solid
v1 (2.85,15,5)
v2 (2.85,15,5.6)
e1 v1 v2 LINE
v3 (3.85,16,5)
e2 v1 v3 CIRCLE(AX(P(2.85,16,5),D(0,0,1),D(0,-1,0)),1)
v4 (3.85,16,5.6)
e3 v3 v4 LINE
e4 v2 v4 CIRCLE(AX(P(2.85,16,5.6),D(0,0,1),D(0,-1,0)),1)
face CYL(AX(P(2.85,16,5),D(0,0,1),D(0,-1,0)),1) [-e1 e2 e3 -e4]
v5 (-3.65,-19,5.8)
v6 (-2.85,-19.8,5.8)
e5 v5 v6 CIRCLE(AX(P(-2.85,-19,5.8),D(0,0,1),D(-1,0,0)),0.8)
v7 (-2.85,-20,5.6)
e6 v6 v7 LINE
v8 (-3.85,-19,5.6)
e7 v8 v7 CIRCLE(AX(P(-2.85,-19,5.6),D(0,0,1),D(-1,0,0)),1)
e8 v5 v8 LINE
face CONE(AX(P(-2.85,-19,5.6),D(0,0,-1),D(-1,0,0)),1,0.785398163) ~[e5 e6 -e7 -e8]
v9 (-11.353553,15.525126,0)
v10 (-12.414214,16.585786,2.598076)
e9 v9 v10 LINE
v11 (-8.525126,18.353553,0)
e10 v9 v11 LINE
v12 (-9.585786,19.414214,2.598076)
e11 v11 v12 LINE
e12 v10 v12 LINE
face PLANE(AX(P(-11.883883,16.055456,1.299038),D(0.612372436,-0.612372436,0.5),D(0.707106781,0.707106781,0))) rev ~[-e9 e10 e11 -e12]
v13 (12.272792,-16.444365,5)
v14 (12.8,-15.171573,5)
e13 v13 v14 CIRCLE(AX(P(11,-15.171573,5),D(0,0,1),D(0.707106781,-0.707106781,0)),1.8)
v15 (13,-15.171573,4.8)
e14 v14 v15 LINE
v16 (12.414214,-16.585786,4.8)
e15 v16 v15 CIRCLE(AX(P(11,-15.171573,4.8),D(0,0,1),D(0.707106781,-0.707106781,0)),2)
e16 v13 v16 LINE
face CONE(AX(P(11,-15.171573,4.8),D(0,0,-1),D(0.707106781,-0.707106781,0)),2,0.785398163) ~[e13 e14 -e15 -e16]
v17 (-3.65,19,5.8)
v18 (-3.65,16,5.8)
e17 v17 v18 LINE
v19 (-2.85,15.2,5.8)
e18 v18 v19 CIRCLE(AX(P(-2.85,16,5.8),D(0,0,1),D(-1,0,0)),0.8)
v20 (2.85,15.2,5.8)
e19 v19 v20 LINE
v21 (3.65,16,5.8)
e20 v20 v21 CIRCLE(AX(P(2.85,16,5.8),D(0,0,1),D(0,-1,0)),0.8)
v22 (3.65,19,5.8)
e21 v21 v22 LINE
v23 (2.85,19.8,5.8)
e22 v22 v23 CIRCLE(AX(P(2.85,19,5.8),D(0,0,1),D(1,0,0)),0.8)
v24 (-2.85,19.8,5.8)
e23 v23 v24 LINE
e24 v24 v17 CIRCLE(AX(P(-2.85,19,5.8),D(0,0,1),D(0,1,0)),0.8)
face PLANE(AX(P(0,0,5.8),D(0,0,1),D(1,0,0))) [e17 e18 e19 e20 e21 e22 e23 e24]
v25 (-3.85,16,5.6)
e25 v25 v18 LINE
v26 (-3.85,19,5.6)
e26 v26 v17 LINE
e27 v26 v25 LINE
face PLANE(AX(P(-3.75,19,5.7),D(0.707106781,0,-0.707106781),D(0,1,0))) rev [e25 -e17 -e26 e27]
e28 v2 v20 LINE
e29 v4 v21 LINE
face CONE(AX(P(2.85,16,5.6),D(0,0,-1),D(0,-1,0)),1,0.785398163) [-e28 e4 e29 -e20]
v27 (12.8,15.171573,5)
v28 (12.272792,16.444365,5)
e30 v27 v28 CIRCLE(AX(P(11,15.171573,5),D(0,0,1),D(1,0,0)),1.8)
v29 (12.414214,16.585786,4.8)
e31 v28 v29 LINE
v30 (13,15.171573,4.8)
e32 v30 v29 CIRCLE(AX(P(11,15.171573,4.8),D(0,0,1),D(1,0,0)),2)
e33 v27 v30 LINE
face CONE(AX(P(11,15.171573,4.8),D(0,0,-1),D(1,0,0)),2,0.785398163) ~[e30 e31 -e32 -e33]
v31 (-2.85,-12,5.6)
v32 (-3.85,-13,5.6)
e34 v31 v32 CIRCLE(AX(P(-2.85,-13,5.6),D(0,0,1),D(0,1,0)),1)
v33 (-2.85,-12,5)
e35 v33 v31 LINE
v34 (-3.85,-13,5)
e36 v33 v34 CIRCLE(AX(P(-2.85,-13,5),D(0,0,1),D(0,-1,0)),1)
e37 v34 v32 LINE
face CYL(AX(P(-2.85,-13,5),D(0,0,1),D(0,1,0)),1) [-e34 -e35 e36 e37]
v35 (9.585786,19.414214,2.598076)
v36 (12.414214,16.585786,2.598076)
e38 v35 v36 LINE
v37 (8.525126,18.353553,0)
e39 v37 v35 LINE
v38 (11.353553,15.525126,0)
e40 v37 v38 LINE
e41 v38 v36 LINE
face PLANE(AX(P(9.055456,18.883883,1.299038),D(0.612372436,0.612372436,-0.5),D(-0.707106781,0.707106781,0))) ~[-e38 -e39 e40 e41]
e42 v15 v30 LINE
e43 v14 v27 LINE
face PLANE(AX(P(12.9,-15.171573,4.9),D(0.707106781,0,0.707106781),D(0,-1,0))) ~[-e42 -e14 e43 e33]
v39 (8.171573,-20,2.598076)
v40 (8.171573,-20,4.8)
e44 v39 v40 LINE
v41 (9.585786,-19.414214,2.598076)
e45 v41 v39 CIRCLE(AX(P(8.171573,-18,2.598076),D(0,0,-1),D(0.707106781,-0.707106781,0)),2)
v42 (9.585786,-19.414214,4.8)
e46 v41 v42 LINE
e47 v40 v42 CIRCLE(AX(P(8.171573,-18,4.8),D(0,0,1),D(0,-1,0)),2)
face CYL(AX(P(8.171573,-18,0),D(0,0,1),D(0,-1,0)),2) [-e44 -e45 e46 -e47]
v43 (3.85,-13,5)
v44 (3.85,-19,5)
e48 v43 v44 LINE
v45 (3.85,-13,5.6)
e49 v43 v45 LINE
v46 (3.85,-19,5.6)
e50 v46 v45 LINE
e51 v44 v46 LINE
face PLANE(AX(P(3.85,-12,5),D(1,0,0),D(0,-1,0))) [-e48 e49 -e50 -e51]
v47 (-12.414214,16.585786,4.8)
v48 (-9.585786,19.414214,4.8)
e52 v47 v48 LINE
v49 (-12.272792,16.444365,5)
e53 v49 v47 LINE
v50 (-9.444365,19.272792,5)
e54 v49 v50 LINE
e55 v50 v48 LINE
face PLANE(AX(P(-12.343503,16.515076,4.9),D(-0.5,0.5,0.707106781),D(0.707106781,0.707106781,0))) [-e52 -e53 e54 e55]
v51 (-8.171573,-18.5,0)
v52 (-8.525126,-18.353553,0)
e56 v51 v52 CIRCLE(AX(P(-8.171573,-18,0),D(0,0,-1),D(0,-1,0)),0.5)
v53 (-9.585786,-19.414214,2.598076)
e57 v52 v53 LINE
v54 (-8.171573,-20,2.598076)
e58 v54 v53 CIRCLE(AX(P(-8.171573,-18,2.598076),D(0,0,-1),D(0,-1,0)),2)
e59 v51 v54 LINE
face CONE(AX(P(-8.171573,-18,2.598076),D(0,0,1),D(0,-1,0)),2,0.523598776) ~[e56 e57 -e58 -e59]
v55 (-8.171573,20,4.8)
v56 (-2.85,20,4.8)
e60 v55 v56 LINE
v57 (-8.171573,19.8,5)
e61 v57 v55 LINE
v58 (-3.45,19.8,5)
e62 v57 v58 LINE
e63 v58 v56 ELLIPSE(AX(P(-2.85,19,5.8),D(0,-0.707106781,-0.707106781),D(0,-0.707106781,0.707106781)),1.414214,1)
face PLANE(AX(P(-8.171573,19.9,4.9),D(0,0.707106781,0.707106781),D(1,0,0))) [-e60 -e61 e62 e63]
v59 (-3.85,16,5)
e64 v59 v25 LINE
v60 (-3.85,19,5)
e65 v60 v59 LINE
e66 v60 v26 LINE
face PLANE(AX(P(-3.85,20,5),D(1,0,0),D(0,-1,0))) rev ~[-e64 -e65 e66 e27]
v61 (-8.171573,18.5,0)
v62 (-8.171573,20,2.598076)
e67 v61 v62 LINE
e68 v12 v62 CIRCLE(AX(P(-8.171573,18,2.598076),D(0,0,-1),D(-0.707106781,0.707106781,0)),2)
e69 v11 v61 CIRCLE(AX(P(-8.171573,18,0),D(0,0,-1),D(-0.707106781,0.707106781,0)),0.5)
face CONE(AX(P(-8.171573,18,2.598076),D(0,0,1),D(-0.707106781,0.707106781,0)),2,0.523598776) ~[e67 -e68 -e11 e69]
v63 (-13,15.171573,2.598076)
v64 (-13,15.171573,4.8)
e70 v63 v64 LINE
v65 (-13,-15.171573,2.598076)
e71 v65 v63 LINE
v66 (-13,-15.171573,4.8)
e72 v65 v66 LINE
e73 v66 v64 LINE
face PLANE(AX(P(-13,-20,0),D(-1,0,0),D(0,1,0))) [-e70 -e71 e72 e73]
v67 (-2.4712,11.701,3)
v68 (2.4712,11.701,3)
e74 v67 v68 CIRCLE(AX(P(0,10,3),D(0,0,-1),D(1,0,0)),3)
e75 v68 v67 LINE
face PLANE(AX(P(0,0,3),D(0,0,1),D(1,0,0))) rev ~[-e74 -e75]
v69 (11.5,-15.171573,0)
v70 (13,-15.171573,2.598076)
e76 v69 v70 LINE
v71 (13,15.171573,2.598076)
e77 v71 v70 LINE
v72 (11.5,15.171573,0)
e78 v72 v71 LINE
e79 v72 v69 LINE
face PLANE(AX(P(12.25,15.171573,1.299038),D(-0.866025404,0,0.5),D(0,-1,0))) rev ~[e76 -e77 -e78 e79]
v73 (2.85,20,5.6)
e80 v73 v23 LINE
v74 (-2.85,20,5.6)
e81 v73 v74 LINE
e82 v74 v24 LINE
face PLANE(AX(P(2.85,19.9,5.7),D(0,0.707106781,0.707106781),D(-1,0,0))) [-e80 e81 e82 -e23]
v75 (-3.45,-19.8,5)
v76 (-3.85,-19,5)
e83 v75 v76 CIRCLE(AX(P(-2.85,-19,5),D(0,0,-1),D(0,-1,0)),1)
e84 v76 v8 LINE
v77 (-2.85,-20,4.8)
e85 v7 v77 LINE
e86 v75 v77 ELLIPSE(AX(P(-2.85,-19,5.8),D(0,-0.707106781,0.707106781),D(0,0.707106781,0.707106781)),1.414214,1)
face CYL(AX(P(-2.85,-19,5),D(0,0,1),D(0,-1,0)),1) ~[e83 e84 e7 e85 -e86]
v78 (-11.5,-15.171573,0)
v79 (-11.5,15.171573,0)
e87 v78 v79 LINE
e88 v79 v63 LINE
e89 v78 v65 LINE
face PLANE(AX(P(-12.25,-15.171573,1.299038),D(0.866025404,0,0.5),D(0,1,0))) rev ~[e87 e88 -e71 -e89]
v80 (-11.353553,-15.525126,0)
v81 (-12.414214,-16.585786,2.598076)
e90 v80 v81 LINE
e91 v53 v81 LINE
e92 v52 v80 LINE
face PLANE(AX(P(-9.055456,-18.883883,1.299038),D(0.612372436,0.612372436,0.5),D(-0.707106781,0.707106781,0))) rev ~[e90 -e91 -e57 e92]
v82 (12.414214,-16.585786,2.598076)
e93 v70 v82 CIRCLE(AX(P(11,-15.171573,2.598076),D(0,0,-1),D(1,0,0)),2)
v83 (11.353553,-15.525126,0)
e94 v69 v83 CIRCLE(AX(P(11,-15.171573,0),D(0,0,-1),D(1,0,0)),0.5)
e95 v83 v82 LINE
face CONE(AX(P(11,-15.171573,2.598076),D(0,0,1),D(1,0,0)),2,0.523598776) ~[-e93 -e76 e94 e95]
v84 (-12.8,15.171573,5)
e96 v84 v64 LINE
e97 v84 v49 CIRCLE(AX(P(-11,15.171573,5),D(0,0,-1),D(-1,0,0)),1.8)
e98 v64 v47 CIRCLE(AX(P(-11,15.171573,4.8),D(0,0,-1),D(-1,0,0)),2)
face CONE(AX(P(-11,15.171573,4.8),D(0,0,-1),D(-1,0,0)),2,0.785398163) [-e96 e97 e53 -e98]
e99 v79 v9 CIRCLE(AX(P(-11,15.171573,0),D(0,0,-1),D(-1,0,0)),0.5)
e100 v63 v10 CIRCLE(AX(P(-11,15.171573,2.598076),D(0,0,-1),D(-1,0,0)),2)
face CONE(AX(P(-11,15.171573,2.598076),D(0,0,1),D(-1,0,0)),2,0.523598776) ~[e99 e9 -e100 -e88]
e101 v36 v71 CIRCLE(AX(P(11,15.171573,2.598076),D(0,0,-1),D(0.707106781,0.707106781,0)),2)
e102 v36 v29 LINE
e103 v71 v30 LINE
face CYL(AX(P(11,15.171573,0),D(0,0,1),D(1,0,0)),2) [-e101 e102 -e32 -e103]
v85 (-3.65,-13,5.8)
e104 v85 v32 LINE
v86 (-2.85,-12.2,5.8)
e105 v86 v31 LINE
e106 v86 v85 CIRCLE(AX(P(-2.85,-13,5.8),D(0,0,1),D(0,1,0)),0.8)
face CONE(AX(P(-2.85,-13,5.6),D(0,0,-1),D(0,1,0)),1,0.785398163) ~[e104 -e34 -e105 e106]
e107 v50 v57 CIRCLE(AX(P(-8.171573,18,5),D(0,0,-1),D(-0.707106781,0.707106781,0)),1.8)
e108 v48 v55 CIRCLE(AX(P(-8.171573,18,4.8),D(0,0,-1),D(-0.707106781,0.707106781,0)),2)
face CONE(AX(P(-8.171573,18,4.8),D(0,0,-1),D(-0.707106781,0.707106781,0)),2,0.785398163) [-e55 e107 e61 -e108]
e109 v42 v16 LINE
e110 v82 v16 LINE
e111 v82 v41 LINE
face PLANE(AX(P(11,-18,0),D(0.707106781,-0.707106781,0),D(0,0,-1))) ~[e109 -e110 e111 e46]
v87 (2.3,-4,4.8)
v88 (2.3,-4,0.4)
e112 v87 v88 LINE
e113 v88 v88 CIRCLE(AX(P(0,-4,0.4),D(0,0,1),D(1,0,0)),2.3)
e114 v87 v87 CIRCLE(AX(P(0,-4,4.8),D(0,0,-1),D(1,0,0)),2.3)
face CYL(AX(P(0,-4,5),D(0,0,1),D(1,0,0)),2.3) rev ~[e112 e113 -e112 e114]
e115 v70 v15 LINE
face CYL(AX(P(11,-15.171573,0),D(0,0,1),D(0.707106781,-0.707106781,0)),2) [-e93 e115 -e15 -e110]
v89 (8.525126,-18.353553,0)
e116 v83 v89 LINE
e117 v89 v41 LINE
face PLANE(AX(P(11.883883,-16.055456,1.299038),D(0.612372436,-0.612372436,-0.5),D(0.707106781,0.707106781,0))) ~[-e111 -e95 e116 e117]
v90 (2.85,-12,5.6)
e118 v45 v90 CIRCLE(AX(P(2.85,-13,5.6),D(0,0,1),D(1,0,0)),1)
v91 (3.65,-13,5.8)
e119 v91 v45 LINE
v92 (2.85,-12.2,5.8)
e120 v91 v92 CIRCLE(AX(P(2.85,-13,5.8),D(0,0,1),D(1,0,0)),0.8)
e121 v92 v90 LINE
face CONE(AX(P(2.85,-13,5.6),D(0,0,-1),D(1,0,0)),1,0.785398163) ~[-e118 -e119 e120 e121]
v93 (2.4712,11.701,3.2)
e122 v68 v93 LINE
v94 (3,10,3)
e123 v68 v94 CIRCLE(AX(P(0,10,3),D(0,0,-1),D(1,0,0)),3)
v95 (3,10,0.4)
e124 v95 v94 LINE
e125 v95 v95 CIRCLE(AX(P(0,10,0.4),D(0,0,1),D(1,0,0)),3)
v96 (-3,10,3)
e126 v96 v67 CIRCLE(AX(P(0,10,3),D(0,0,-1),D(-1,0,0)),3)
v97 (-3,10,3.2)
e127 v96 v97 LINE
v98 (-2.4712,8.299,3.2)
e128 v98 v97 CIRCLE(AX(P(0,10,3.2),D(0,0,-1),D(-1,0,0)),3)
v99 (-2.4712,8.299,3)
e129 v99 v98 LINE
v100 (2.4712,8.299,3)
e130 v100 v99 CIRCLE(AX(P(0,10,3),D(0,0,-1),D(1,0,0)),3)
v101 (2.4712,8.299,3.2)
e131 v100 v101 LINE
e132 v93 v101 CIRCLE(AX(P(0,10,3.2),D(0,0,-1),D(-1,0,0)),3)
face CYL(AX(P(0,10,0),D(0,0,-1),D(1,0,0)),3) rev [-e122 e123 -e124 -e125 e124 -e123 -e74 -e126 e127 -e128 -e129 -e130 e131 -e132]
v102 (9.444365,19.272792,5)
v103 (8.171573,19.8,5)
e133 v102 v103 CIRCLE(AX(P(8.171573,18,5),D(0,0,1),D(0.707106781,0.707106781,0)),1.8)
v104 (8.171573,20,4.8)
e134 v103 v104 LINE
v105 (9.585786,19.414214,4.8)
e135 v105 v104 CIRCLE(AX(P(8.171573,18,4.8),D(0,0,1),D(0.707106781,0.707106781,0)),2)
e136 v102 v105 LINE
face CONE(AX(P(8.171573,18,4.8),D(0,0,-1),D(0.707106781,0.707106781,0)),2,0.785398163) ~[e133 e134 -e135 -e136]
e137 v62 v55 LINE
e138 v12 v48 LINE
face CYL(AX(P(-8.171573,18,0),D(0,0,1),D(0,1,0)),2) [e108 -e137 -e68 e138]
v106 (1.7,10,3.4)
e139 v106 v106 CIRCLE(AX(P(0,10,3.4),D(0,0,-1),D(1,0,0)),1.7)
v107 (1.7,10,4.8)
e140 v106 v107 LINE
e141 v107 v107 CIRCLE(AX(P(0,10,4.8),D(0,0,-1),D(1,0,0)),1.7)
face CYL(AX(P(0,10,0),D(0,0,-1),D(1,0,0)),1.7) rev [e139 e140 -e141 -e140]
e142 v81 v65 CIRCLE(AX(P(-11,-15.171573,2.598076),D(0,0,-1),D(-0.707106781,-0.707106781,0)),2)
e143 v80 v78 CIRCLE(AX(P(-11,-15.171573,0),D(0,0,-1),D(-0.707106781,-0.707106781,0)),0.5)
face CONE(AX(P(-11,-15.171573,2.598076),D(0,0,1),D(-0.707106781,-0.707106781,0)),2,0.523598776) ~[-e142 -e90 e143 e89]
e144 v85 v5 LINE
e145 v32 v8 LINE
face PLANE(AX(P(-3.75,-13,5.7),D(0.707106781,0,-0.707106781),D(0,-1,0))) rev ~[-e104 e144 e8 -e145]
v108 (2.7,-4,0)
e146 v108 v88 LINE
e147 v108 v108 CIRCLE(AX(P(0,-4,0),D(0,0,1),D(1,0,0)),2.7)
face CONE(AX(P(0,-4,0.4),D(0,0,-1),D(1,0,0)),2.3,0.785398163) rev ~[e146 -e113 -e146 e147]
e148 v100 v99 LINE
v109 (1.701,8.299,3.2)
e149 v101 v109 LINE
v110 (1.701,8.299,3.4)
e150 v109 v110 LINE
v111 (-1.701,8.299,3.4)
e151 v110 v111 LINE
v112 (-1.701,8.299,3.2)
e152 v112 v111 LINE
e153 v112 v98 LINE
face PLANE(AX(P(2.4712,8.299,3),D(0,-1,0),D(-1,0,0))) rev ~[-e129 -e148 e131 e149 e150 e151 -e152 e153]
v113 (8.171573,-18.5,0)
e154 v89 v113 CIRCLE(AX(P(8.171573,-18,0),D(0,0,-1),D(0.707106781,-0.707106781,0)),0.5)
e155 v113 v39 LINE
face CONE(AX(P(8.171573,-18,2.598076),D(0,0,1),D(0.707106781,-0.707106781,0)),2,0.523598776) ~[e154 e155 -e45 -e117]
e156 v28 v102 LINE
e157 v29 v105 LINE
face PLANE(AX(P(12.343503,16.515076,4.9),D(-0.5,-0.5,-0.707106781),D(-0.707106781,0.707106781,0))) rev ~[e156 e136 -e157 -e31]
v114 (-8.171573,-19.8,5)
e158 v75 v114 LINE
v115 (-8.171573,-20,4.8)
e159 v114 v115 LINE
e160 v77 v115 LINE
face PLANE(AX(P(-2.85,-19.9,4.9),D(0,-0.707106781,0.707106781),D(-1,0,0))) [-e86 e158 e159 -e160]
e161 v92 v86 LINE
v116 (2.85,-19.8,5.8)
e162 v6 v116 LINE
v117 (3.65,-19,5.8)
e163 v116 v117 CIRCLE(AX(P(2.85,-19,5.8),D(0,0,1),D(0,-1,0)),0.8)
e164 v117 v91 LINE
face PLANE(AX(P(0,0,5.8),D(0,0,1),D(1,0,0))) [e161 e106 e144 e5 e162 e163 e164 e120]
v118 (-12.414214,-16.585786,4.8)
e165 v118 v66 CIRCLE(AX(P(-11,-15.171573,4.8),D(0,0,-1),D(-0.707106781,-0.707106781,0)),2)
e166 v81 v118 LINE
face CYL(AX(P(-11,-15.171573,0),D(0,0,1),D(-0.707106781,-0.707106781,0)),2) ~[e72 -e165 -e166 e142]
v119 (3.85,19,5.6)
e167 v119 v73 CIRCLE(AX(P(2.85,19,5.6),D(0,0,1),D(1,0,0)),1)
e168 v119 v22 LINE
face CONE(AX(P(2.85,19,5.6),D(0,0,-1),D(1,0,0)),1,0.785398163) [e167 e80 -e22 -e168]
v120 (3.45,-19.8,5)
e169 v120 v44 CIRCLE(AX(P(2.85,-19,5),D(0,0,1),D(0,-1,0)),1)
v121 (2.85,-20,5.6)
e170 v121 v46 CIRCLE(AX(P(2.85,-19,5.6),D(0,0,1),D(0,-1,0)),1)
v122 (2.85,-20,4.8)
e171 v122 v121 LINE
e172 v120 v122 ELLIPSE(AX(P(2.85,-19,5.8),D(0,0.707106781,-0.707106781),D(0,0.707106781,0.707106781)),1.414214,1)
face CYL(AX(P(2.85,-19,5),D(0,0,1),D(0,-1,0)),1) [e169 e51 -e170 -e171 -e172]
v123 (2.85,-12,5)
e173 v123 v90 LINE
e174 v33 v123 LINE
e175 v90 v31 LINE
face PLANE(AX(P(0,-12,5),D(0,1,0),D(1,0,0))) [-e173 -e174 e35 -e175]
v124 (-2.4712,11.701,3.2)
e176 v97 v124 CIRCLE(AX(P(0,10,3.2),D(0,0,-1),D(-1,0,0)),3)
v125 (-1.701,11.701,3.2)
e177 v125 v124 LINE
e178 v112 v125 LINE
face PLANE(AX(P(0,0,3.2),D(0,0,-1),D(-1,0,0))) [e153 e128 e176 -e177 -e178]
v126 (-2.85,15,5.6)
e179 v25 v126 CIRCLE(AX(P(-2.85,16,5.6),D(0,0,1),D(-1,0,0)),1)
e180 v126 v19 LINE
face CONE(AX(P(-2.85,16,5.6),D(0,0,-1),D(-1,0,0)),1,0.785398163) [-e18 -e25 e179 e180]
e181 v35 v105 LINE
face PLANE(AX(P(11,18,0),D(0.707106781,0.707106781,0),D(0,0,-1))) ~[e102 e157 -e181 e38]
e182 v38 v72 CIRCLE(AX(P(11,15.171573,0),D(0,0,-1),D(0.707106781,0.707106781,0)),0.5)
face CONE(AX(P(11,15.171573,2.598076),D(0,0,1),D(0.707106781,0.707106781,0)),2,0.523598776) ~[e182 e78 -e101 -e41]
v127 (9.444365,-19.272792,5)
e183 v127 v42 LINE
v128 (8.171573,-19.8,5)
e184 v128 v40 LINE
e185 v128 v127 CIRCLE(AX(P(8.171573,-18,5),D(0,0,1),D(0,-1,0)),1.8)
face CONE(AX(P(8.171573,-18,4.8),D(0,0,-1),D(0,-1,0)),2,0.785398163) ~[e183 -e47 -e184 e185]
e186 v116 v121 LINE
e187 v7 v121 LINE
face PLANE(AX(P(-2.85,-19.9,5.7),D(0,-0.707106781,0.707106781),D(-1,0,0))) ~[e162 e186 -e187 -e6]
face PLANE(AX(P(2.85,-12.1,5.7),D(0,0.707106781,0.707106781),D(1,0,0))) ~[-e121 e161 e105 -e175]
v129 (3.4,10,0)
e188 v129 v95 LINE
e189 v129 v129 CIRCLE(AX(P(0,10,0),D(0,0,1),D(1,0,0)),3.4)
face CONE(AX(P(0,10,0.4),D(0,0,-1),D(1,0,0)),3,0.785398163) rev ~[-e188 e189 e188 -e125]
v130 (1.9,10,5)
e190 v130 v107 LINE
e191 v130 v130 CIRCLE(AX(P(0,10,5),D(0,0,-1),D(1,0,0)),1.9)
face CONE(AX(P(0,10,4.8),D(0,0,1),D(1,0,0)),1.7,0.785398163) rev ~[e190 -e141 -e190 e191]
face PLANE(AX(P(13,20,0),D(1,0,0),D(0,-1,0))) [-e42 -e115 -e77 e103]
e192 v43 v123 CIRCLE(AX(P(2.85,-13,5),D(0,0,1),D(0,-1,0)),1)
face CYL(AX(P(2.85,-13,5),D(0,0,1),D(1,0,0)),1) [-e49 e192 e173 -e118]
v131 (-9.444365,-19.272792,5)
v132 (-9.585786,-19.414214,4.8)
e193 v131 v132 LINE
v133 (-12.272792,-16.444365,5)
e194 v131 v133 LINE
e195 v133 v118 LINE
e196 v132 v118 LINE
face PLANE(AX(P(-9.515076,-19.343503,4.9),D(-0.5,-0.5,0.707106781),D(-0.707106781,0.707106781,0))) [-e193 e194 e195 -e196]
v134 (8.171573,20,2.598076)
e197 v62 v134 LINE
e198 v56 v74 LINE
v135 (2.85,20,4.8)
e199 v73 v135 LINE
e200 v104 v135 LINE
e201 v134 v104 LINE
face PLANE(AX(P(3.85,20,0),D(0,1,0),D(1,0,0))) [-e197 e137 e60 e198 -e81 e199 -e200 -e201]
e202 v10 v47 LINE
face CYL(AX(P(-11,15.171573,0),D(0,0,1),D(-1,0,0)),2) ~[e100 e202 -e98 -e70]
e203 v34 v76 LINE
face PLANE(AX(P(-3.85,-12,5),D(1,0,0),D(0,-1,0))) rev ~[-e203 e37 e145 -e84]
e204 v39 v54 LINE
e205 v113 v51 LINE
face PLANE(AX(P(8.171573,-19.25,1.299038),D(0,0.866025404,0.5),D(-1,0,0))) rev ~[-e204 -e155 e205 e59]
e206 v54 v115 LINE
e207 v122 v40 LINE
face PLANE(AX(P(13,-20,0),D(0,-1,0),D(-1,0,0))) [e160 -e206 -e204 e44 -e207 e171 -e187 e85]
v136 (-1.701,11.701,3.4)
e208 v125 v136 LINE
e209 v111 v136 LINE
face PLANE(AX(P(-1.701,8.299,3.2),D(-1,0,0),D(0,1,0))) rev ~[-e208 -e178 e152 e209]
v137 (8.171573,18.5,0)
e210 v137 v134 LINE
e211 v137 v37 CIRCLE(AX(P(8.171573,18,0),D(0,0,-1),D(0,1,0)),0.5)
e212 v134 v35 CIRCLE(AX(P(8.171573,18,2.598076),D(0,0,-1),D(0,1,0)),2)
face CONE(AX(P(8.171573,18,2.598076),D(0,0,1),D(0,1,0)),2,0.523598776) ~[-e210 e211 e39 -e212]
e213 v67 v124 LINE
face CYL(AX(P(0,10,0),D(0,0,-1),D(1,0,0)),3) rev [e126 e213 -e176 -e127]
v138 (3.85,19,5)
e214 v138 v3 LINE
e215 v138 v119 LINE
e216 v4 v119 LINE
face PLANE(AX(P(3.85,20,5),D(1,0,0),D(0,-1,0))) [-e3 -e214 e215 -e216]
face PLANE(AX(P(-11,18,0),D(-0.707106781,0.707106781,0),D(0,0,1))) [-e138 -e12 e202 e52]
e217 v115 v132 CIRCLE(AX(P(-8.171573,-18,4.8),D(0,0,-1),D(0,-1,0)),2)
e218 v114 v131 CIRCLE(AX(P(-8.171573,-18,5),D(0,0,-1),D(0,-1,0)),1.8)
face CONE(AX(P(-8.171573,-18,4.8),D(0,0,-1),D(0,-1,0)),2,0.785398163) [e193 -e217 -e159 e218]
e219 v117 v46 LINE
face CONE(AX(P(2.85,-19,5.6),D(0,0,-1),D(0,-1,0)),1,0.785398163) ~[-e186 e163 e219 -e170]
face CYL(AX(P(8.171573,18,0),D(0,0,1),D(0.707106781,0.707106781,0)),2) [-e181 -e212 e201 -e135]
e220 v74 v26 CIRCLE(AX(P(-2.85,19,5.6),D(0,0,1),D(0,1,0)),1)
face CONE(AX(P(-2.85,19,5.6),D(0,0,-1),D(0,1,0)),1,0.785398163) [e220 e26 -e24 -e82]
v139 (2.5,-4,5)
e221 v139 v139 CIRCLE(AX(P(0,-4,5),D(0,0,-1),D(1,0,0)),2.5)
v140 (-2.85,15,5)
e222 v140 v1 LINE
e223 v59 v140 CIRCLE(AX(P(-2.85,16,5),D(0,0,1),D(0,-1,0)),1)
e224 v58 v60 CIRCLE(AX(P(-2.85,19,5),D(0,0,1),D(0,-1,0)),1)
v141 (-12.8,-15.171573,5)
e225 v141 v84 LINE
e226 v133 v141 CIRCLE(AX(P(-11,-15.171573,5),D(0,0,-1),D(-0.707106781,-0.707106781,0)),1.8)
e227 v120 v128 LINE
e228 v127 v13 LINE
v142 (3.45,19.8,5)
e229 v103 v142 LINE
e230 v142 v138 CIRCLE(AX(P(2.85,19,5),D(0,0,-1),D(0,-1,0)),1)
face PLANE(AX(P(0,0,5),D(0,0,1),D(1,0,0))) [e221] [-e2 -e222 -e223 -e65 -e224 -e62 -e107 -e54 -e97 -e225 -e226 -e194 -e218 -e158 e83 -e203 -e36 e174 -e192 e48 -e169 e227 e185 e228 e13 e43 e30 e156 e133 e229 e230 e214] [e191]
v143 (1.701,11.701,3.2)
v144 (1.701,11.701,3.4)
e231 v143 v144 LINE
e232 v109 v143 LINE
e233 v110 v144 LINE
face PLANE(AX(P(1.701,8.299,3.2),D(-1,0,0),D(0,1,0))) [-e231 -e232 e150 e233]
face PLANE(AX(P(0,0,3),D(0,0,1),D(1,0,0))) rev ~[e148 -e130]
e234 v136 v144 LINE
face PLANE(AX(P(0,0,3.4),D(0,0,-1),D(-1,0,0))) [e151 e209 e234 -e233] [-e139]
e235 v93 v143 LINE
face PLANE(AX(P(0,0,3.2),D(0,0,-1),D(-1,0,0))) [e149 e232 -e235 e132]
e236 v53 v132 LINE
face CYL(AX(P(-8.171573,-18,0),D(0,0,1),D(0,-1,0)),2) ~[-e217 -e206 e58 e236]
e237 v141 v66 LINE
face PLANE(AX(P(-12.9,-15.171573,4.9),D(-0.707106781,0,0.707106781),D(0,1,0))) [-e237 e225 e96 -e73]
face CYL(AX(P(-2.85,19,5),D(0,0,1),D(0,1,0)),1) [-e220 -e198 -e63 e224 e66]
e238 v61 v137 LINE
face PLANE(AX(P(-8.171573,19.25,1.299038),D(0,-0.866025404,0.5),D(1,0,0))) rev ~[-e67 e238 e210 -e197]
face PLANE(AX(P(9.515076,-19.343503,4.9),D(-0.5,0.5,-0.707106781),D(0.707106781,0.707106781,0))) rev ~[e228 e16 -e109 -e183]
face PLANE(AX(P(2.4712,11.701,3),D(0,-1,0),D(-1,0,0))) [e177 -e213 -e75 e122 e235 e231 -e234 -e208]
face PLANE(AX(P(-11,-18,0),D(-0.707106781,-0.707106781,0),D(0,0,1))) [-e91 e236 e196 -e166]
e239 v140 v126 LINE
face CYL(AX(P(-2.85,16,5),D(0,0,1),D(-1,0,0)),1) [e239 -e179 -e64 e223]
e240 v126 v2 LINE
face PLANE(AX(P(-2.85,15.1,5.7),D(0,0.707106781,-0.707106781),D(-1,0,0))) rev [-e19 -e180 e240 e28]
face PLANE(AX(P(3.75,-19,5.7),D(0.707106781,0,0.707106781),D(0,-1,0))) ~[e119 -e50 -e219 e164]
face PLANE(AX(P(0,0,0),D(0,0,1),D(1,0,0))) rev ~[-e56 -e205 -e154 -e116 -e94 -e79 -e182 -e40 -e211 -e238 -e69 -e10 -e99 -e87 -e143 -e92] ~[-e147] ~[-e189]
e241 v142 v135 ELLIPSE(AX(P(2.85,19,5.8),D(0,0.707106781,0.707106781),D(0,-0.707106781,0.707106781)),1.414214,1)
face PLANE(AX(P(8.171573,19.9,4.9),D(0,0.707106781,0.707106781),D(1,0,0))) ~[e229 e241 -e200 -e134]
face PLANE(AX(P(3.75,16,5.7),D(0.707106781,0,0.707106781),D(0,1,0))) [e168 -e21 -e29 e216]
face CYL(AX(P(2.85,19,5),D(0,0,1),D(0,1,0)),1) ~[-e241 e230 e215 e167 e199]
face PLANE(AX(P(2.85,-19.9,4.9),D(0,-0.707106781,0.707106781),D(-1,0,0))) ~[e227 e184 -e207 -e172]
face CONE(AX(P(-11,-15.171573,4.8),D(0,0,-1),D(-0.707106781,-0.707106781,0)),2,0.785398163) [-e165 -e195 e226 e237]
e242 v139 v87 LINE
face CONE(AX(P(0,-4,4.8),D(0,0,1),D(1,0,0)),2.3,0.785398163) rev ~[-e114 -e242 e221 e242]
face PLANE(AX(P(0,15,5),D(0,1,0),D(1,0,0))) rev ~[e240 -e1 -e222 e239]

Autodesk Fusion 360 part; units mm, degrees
sketch "Sketch1" plane through (0, 0, 0) normal (0, 0, 1) x (1, 0, 0)
  line L0 (13, -20) -> (-13, -20)
  line L1 (-13, -20) -> (-13, 20)
  line L2 (-13, 20) -> (13, 20)
  line L3 (13, 20) -> (13, -20)
  line L4 (13, -20) -> (-13, 20) construction
  line L5 (-13, -20) -> (13, 20) construction
  line L6 (0, 20) -> (0, -20)
  circle A0 centre (0, -4) radius 7
  circle A1 centre (0, 10) radius 1.7
  circle A2 centre (0, 10) radius 3
  line L7 (-3.85, 20) -> (-3.85, -20)
  line L8 (3.85, 20) -> (3.85, -20)
  circle A3 centre (0, -4) radius 1.7
  circle A4 centre (0, -4) radius 2.3
  line L9 (-3.85, 15) -> (3.85, 15)
  line L10 (-3.85, 5) -> (3.85, 5)
  line L11 (-3.85, -12) -> (3.85, -12)
  dimension "d1" = 26
  dimension "d2" = 40
  dimension "d3" = 14
  dimension "d4" = 16
  dimension "d5" = 3.4
  dimension "d6" = 6
  dimension "d7" = 7.7
  dimension "d8" = 10
  dimension "d9" = 3.4
  dimension "d10" = 4.6
  dimension "d15" = 5
  dimension "d16" = 5
  dimension "d17" = 8
extrude "Extrude1" add sketch "Sketch1" along normal blind 5
extrude "Extrude13" cut sketch "Sketch1" along normal blind 10 contours L6 A3 | L6 A3 | L6 A1 | L6 A1
extrude "Extrude2" add sketch "Sketch1" along normal blind 0.8 from surface at 5 contours L0 L6 L8 L11 | L0 L6 L7 L11 | L2 L6 L8 L9 | L2 L6 L7 L9
fillet "Fillet1" radius 1 8 edges at (-3.85, 20, 5.4) (-3.85, 15, 5.4) (-3.85, -12, 5.4) (-3.85, -20, 5.4) (3.85, -12, 5.4) (3.85, -20, 5.4) (3.85, 15, 5.4) (3.85, 20, 5.4)
chamfer "Chamfer1" distance 0.2 angle 45 16 edges at (3.5571, 15.2929, 5.8) (0, 15, 5.8) (-3.5571, 15.2929, 5.8) (-3.85, 17.5, 5.8) (-3.5571, 19.7071, 5.8) (0, 20, 5.8) (3.5571, 19.7071, 5.8) (3.85, 17.5, 5.8) (3.5571, -19.7071, 5.8) (0, -20, 5.8) (-3.5571, -19.7071, 5.8) (-3.85, -16, 5.8) (-3.5571, -12.2929, 5.8) (0, -12, 5.8) (3.5571, -12.2929, 5.8) (3.85, -16, 5.8)
extrude "Extrude3" cut sketch "Sketch1" along normal blind 3 contours L6 A1 A2 | L6 A1 A2 | L6 A1 | L6 A1
extrude "Extrude5" cut sketch "Sketch1" against normal blind 5 from surface at 5 contours L6 A3 A4 | L6 A3 A4
chamfer "Chamfer3" distance 4 angle 45 4 edges at (13, -20, 2.5) (-13, -20, 2.5) (-13, 20, 2.5) (13, 20, 2.5)
fillet "Fillet2" radius 2 8 edges at (9, -20, 2.5) (-13, 16, 2.5) (13, -16, 2.5) (13, 16, 2.5) (9, 20, 2.5) (-9, 20, 2.5) (-13, -16, 2.5) (-9, -20, 2.5)
chamfer "Chamfer4" distance 0.2 angle 45 20 edges at (-2.1444, -3.1683, 5) (11, 18, 5) (8.9369, 19.8478, 5) (5.5108, 20, 5) (5.5108, -20, 5) (8.9369, -19.8478, 5) (11, -18, 5) (12.8478, -15.9369, 5) (13, 0, 5) (12.8478, 15.9369, 5) (-11, 18, 5) (-12.8478, 15.9369, 5) (-13, 0, 5) (-12.8478, -15.9369, 5) (-11, -18, 5) (-8.9369, -19.8478, 5) (-5.5108, -20, 5) (-5.5108, 20, 5) (-8.9369, 19.8478, 5) (-1.585, 10.6147, 5)
chamfer "Chamfer5" distance 1.5 angle 60 16 edges at (13, 0, 0) (12.8478, -15.9369, 0) (11, -18, 0) (8.9369, -19.8478, 0) (0, -20, 0) (-8.9369, -19.8478, 0) (-11, -18, 0) (-12.8478, -15.9369, 0) (-13, 0, 0) (-12.8478, 15.9369, 0) (-11, 18, 0) (-8.9369, 19.8478, 0) (0, 20, 0) (8.9369, 19.8478, 0) (11, 18, 0) (12.8478, 15.9369, 0) measured on face at (9.4248, -1.2191, 0) measured on face at (12.5321, -16.4571, 1.6) measured on face at (10.5286, -18.4714, 3.2) measured on face at (9.4571, -19.5321, 1.6) measured on face at (9.4248, -1.2191, 0) measured on face at (-8.8556, -19.8794, 1.6) measured on face at (-11.4714, -17.5286, 1.6) measured on face at (-12.6868, -16.2462, 1.6) measured on face at (9.4248, -1.2191, 0) measured on face at (-12.9981, 15.2588, 3.2) measured on face at (-11.4714, 17.5286, 3.2) measured on face at (-8.5189, 19.9696, 3.2) measured on face at (9.4248, -1.2191, 0) measured on face at (9.0168, 19.8126, 1.6) measured on face at (11.4714, 17.5286, 3.2) measured on face at (12.8794, 15.8556, 1.6)
chamfer "Chamfer6" distance 0.4 angle 45 2 edges at (-2.797, 8.9152, 0) (-2.1444, -4.8317, 0) measured on face at (0.0573, -14.4312, 0) measured on face at (0.0573, -14.4312, 0)
sketch "Sketch11" plane through (0, 0, 3) normal (0, 0, -1) x (-1, 0, 0)
  circle A0 centre (0, 10) radius 1.7 construction
  circle A1 centre (0, 10) radius 3
  line L0 (0, 10) -> (1, 10) construction
  line L1 (-2.4712, 8.299) -> (2.4712, 8.299)
  line L2 (-2.4712, 11.701) -> (2.4712, 11.701)
  line L3 (0, 10) -> (0, 8.299) construction
  line L4 (0, 10) -> (0, 11.701) construction
  dimension "d87" = 1.701
  dimension "d88" = 1.701
extrude "Extrude16" cut sketch "Sketch11" against normal blind 0.2 contours A1 L1 L2
sketch "Sketch12" plane through (0, 0, 3.2) normal (0, 0, -1) x (-1, 0, 0)
  circle A0 centre (0, 10) radius 1.7 construction
  line L0 (-2.4712, 8.299) -> (2.4712, 8.299)
  arc A1 (2.4712, 8.299) -> (2.4712, 11.701) centre (0, 10) ccw
  line L1 (2.4712, 11.701) -> (-2.4712, 11.701)
  arc A2 (-2.4712, 11.701) -> (-2.4712, 8.299) centre (0, 10) ccw
  line L2 (0, 10) -> (1, 10) construction
  line L3 (0, 10) -> (0, 11) construction
  line L4 (1.701, 8.299) -> (1.701, 11.701)
  line L5 (-1.701, 8.299) -> (-1.701, 11.701)
  line L6 (0, 10) -> (1.701, 10) construction
  line L7 (0, 10) -> (-1.701, 10) construction
  dimension "d91" = 90
  dimension "d92" = 1.701
  dimension "d93" = 1.701
extrude "Extrude17" cut sketch "Sketch12" against normal blind 0.2 contours L0 L1 L4 L5
equation "d1 = 30 mm - 4 mm"
equation "d2 = 30 mm + 10 mm"
equation "d7 = 8 mm - 0.3 mm"
equation "d16 = d15"
equation "d17 = ( d3 / 2 ) + 1 mm"
